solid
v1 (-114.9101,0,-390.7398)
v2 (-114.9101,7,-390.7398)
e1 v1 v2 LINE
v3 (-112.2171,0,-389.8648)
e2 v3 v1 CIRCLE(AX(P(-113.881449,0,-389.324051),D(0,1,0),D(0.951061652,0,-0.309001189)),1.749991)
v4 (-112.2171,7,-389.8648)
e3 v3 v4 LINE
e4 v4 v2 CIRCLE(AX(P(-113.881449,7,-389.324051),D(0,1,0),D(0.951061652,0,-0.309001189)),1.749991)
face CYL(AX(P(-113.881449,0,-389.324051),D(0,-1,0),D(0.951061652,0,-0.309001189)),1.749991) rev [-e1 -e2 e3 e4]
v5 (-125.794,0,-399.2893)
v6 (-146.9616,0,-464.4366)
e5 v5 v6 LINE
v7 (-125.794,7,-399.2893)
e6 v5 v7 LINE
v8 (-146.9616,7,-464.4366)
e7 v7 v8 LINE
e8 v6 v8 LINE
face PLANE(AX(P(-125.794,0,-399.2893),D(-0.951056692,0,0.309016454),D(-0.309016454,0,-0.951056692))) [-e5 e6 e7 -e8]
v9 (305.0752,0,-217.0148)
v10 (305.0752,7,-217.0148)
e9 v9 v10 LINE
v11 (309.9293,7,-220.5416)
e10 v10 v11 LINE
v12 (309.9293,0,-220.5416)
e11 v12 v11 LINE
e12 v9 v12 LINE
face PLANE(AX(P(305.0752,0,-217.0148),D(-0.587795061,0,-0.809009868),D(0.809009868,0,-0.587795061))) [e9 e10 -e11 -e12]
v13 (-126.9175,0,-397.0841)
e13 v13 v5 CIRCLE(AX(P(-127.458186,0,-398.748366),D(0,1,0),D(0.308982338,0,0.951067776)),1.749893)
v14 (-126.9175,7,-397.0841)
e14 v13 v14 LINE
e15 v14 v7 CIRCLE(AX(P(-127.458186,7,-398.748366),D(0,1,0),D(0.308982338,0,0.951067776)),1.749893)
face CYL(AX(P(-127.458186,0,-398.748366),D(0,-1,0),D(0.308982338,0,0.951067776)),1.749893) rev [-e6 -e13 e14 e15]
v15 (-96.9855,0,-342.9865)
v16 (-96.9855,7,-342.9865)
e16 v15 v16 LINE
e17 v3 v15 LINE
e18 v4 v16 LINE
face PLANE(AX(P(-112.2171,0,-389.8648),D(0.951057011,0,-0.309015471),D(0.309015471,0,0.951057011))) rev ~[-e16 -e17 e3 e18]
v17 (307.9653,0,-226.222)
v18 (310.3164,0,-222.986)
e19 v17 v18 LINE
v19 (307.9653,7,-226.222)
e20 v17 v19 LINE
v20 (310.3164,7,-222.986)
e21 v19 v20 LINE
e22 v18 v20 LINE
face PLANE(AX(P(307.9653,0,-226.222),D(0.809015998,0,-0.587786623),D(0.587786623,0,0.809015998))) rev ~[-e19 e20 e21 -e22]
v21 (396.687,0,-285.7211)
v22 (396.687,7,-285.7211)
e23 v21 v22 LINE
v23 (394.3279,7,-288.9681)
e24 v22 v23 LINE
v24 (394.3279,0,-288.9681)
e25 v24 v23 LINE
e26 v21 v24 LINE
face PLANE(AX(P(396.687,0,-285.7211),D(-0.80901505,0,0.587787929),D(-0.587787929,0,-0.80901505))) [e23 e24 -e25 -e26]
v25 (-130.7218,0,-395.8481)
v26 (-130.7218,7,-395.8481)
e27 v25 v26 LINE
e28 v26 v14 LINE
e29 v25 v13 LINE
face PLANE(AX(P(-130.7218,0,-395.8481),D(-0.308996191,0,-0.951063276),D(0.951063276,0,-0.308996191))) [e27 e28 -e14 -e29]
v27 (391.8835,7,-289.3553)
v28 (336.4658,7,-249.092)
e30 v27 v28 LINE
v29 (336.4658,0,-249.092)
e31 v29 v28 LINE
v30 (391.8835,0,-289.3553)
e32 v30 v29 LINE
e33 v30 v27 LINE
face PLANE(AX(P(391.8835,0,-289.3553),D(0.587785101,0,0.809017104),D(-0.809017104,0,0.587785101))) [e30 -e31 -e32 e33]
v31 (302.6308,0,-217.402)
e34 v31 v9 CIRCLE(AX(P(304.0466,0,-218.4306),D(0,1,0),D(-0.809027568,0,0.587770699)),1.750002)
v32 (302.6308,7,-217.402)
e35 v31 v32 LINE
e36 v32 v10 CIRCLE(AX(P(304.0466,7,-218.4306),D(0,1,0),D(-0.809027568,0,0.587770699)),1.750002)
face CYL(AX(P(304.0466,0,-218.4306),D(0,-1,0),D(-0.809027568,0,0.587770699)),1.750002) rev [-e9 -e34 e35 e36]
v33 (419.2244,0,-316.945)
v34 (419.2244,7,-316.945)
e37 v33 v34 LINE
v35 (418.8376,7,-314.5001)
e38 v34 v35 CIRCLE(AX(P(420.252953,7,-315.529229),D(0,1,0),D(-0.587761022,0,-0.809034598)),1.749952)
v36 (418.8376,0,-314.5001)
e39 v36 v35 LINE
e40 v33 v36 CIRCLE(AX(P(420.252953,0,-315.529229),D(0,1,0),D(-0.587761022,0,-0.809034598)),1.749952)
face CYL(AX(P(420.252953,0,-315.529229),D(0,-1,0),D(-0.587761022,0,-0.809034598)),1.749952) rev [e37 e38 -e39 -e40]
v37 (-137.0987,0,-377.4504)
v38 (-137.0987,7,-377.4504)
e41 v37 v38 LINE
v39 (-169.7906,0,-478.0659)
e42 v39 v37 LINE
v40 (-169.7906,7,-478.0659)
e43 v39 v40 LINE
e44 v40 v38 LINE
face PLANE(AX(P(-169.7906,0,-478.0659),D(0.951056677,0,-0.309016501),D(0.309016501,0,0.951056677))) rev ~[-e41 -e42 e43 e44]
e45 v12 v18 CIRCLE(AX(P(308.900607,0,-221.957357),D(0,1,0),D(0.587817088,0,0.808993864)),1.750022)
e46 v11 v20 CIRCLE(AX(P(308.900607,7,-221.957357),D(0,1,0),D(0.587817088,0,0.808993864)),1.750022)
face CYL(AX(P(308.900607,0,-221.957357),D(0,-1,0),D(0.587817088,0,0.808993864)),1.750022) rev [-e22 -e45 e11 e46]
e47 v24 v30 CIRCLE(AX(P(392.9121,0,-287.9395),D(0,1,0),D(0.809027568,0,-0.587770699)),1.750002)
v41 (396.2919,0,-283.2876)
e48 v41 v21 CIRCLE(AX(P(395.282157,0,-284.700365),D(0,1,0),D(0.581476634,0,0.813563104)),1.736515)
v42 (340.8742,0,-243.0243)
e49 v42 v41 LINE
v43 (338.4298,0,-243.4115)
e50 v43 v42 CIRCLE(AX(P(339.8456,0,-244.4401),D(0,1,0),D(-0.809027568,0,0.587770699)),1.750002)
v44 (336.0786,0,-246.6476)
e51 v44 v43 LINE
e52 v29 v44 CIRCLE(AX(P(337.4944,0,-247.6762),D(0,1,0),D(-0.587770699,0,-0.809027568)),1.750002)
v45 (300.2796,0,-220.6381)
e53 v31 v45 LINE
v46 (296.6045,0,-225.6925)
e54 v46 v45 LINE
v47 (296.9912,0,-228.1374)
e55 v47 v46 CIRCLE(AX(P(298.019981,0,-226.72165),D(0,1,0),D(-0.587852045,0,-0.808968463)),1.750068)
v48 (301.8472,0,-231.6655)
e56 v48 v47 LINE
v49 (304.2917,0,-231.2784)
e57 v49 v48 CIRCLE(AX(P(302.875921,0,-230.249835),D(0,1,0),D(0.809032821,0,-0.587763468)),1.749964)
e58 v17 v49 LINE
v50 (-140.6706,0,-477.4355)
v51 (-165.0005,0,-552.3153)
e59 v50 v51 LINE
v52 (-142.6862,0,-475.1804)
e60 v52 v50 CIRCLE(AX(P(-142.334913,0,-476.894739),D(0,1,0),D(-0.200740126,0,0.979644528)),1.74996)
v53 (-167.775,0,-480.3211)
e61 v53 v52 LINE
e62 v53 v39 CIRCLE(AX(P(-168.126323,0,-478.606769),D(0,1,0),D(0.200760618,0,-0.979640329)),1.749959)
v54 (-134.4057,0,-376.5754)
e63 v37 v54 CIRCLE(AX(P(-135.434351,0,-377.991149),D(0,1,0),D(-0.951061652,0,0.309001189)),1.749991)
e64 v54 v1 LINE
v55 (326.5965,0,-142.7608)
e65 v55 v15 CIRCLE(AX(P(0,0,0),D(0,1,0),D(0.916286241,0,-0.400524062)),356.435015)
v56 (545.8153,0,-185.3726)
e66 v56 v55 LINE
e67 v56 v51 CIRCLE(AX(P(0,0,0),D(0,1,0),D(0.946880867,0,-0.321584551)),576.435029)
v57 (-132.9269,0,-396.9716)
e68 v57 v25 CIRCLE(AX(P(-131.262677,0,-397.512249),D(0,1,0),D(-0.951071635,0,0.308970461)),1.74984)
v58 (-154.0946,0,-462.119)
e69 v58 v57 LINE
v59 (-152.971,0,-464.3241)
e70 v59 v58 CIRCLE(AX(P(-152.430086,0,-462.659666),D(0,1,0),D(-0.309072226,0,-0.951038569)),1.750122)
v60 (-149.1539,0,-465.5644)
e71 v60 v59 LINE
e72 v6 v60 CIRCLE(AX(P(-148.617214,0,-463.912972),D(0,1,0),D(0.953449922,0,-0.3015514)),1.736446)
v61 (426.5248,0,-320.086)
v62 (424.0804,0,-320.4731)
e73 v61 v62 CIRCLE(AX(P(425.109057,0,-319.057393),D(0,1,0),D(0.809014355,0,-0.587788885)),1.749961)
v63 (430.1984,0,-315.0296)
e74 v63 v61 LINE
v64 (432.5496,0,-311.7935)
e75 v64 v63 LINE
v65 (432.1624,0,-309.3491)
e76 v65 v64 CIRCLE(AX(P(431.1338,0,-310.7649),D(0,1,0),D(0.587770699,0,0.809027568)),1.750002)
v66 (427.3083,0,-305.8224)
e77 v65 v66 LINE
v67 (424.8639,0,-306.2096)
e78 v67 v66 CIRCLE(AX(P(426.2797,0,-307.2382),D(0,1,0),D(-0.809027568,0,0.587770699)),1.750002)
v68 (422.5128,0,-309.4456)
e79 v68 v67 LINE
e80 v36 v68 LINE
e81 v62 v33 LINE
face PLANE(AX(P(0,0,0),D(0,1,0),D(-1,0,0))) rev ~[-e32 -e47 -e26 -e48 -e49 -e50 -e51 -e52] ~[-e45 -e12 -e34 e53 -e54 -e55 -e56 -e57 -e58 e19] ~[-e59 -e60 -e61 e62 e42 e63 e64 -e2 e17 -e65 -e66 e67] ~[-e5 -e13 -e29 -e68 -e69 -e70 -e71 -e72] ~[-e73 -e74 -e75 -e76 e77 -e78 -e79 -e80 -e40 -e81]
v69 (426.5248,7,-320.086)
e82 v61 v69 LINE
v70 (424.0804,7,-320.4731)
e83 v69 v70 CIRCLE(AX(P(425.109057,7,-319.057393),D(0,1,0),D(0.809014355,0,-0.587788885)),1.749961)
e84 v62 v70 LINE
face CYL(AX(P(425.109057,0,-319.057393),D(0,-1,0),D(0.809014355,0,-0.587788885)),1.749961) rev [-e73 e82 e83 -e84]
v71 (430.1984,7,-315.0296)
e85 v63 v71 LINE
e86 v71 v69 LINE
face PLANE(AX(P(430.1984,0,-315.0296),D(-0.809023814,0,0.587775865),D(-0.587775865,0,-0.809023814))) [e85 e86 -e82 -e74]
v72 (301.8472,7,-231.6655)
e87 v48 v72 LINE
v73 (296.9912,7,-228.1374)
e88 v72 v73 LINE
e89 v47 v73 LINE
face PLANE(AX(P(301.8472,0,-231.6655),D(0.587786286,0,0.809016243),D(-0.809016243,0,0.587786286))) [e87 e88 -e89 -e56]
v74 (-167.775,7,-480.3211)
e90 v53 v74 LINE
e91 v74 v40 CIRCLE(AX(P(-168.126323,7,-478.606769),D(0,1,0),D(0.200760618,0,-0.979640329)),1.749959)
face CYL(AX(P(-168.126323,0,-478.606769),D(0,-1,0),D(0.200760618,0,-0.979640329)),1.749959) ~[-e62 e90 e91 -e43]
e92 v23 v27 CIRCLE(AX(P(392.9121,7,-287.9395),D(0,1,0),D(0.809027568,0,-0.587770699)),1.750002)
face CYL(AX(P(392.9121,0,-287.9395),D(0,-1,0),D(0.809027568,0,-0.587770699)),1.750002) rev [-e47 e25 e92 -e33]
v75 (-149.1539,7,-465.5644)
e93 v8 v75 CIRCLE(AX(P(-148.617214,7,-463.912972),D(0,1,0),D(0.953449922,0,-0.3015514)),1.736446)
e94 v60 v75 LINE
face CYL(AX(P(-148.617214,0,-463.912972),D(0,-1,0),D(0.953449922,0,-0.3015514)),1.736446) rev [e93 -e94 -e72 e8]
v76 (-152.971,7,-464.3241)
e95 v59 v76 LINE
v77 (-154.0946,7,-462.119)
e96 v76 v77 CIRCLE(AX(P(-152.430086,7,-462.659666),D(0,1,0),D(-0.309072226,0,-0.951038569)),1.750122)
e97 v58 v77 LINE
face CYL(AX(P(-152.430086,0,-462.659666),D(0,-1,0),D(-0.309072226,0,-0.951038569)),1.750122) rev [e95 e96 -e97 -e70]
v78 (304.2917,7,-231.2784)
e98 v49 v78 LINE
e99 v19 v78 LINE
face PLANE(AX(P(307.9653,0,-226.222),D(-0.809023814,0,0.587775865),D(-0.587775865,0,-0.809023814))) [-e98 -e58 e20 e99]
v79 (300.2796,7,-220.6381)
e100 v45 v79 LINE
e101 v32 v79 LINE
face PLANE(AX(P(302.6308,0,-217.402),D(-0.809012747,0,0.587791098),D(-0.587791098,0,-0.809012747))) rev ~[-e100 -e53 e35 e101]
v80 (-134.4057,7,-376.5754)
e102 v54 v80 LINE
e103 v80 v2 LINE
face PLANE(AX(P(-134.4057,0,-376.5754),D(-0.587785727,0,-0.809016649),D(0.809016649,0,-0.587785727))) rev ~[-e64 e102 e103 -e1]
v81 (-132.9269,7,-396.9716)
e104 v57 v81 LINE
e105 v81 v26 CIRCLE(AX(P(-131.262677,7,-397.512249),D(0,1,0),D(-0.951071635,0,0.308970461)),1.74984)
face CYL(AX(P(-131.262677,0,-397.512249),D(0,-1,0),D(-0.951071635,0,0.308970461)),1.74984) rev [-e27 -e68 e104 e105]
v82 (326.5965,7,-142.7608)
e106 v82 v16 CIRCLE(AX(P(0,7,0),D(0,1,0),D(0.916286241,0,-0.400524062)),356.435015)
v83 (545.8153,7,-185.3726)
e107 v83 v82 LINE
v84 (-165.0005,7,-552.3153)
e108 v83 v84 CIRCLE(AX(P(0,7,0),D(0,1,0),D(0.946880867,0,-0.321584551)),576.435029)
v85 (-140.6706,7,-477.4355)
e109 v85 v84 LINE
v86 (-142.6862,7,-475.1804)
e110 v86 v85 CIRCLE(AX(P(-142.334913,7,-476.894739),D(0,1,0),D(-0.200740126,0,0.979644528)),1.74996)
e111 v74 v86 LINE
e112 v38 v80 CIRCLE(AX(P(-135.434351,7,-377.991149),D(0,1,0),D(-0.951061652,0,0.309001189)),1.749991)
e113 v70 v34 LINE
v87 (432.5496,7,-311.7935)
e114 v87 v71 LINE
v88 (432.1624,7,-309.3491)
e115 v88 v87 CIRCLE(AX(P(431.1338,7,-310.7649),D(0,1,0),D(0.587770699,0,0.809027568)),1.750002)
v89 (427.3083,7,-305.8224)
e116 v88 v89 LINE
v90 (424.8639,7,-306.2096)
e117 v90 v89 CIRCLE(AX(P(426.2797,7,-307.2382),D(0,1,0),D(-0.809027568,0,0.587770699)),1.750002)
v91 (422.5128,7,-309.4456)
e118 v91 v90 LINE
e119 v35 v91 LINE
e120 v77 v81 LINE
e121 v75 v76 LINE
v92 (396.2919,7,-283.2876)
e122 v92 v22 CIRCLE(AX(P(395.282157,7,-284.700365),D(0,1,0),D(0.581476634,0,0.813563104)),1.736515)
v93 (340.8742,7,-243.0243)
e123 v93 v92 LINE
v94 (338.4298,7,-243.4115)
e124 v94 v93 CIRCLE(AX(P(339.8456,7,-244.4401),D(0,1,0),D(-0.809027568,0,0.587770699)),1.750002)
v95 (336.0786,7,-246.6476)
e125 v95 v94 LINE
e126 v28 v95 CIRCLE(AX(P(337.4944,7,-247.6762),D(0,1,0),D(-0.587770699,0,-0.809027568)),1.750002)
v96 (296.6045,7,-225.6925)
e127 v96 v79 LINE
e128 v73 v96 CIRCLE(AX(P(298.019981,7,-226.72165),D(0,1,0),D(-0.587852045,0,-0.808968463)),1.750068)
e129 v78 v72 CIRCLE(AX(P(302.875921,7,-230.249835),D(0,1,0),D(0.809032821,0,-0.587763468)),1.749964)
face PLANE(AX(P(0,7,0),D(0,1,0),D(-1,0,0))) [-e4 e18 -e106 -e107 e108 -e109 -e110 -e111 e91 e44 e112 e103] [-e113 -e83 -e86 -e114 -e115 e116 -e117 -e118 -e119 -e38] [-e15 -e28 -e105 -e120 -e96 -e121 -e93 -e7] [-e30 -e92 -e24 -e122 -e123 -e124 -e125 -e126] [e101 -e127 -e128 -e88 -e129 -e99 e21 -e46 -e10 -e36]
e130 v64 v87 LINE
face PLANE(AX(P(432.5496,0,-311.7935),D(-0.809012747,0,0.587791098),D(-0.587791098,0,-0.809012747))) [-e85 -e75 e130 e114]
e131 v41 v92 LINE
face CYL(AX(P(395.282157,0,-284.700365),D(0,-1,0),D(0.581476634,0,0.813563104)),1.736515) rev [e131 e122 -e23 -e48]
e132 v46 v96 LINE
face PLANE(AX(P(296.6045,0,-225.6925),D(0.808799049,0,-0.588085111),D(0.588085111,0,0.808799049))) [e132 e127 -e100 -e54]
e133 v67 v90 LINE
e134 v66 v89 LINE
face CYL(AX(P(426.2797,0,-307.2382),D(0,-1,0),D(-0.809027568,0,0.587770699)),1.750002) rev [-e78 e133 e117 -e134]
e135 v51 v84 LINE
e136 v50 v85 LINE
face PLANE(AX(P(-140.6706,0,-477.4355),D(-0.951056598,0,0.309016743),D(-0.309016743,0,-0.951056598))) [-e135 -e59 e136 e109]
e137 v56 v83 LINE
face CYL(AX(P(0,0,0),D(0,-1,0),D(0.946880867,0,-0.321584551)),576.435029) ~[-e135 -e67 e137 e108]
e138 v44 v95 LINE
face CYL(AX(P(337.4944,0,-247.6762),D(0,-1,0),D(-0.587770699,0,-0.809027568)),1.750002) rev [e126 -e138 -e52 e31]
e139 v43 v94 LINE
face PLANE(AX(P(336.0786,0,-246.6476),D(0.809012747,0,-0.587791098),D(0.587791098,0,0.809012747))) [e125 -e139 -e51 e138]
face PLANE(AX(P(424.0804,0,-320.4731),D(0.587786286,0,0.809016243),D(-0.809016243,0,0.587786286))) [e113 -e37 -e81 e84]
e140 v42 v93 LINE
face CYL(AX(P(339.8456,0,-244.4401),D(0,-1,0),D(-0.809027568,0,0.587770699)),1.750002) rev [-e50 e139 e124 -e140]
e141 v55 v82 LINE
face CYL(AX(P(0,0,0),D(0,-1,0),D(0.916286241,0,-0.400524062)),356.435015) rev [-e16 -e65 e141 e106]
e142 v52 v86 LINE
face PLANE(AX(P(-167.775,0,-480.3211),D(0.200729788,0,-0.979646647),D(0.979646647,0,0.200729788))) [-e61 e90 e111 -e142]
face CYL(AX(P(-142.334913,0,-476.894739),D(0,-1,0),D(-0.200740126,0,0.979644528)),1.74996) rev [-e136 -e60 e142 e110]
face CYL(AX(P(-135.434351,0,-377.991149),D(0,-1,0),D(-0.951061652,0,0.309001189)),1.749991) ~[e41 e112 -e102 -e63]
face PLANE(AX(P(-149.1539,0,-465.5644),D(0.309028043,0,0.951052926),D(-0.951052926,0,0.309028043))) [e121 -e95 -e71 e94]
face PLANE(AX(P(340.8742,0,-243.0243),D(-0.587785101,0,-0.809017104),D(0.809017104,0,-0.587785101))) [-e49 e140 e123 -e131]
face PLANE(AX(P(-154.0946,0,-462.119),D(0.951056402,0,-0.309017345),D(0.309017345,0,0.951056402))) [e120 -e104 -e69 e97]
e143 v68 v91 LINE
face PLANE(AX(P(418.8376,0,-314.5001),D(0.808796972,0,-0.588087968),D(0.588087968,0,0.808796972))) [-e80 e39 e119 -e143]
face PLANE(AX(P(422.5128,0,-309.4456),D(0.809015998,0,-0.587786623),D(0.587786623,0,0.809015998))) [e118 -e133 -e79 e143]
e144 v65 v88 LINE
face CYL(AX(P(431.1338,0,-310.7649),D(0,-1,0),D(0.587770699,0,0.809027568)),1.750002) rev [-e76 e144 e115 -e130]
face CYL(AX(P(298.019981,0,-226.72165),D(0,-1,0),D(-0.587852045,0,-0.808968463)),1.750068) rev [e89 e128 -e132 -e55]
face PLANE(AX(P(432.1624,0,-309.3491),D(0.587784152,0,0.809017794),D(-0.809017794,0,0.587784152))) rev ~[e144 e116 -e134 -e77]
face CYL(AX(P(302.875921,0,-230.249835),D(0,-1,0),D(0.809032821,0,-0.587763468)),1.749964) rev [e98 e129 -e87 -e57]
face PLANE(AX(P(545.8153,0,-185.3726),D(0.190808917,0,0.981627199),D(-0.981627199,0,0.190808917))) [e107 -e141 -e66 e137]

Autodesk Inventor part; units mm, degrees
ref_plane "YZ Plane" through (0, 0, 0) normal (1, 0, 0) x (0, 1, 0)
ref_plane "XZ Plane" through (0, 0, 0) normal (0, 1, 0) x (-1, 0, 0)
ref_plane "XY Plane" through (0, 0, 0) normal (0, 0, 1) x (1, 0, 0)
sketch "Sketch1" plane through (0, 0, 0) normal (0, 1, 0) x (-1, 0, 0)
  line L0 (-545.8153, 185.3726) -> (-326.5965, 142.7608)
  line L1 (-545.8153, -185.3726) -> (-326.5965, -142.7608)
  arc A0 (-545.8153, -185.3726) -> (-545.8153, 185.3726) centre (0, 0) ccw
  arc A1 (374.3691, 3.75) -> (372.6191, 2) centre (374.3691, 2) ccw
  arc A2 (372.6191, -2) -> (374.3691, -3.75) centre (374.3691, -2) ccw
  line L2 (380.3691, 3.75) -> (374.3691, 3.75)
  line L3 (374.3691, -3.75) -> (380.3691, -3.75)
  line L4 (382.1191, 2) -> (382.1191, -2)
  arc A3 (380.3691, -3.75) -> (382.1191, -2) centre (380.3691, -2) ccw
  arc A4 (382.1191, 2) -> (380.3691, 3.75) centre (380.3691, 2) ccw
  line L5 (372.6191, -2) -> (372.6191, 2)
  line L6 (523.7076, 2) -> (523.7076, -2)
  arc A5 (523.7076, -2) -> (525.4576, -3.75) centre (525.4576, -2) ccw
  arc A6 (525.4576, 3.75) -> (523.7076, 2) centre (525.4576, 2) ccw
  line L7 (531.4576, -3.75) -> (525.4576, -3.75)
  line L8 (525.4576, 3.75) -> (531.4576, 3.75)
  arc A7 (531.4576, -3.75) -> (533.2076, -2) centre (531.4576, -2) ccw
  line L9 (533.2076, -2) -> (533.2076, 2)
  arc A8 (533.2076, 2) -> (531.4576, 3.75) centre (531.4576, 2) ccw
  arc A9 (-326.5965, -142.7608) -> (-326.5965, 142.7608) centre (0, 0) ccw
  line L10 (116.1792, 364.0349) -> (119.9834, 362.7989)
  arc A10 (121.107, 360.5937) -> (119.9834, 362.7989) centre (119.4426, 361.1345) ccw
  arc A11 (116.1792, 364.0349) -> (113.9741, 362.9114) centre (115.6384, 362.3706) ccw
  line L11 (119.2529, 354.8874) -> (121.107, 360.5937)
  line L12 (113.9741, 362.9114) -> (112.12, 357.205)
  line L13 (117.0478, 353.7638) -> (113.2435, 354.9999)
  arc A12 (112.12, 357.205) -> (113.2435, 354.9999) centre (113.7843, 356.6642) ccw
  arc A13 (117.0478, 353.7638) -> (119.2529, 354.8874) centre (117.5885, 355.4282) ccw
  arc A14 (163.7367, 497.4575) -> (165.9418, 498.5811) centre (164.2774, 499.1218) ccw
  arc A15 (158.8089, 500.8987) -> (159.9324, 498.6936) centre (160.4732, 500.3579) ccw
  line L14 (159.9324, 498.6936) -> (163.7367, 497.4575)
  line L15 (158.8089, 500.8987) -> (160.663, 506.605)
  line L16 (167.7959, 504.2874) -> (165.9418, 498.5811)
  arc A16 (162.8681, 507.7286) -> (160.663, 506.605) centre (162.3273, 506.0642) ccw
  line L17 (166.6723, 506.4925) -> (162.8681, 507.7286)
  arc A17 (167.7959, 504.2874) -> (166.6723, 506.4925) centre (166.1315, 504.8282) ccw
  line L18 (-310.3164, 222.986) -> (-307.9653, 226.222)
  arc A18 (-305.5209, 226.6092) -> (-307.9653, 226.222) centre (-306.5495, 225.1934) ccw
  arc A19 (-310.3164, 222.986) -> (-309.9293, 220.5416) centre (-308.9007, 221.9573) ccw
  line L19 (-300.6668, 223.0825) -> (-305.5209, 226.6092)
  line L20 (-309.9293, 220.5416) -> (-305.0752, 217.0148)
  line L21 (-300.2796, 220.6381) -> (-302.6308, 217.402)
  arc A20 (-305.0752, 217.0148) -> (-302.6308, 217.402) centre (-304.0466, 218.4306) ccw
  arc A21 (-300.2796, 220.6381) -> (-300.6668, 223.0825) centre (-301.6954, 221.6667) ccw
  arc A22 (-422.5128, 309.4456) -> (-422.8999, 311.89) centre (-423.9286, 310.4743) ccw
  arc A23 (-427.3083, 305.8224) -> (-424.8639, 306.2096) centre (-426.2797, 307.2382) ccw
  line L22 (-424.8639, 306.2096) -> (-422.5128, 309.4456)
  line L23 (-427.3083, 305.8224) -> (-432.1624, 309.3491)
  line L24 (-427.754, 315.4167) -> (-422.8999, 311.89)
  arc A24 (-432.5496, 311.7935) -> (-432.1624, 309.3491) centre (-431.1338, 310.7649) ccw
  line L25 (-430.1984, 315.0296) -> (-432.5496, 311.7935)
  arc A25 (-427.754, 315.4167) -> (-430.1984, 315.0296) centre (-428.7827, 314.001) ccw
  line L26 (-307.9653, -226.222) -> (-310.3164, -222.986)
  arc A26 (-309.9293, -220.5416) -> (-310.3164, -222.986) centre (-308.9007, -221.9573) ccw
  arc A27 (-307.9653, -226.222) -> (-305.5209, -226.6092) centre (-306.5495, -225.1934) ccw
  line L27 (-305.0752, -217.0148) -> (-309.9293, -220.5416)
  line L28 (-305.5209, -226.6092) -> (-300.6668, -223.0825)
  line L29 (-302.6308, -217.402) -> (-300.2796, -220.6381)
  arc A28 (-300.6668, -223.0825) -> (-300.2796, -220.6381) centre (-301.6954, -221.6667) ccw
  arc A29 (-302.6308, -217.402) -> (-305.0752, -217.0148) centre (-304.0466, -218.4306) ccw
  arc A30 (-424.8639, -306.2096) -> (-427.3083, -305.8224) centre (-426.2797, -307.2382) ccw
  arc A31 (-422.8999, -311.89) -> (-422.5128, -309.4456) centre (-423.9286, -310.4743) ccw
  line L30 (-422.5128, -309.4456) -> (-424.8639, -306.2096)
  line L31 (-422.8999, -311.89) -> (-427.754, -315.4167)
  line L32 (-432.1624, -309.3491) -> (-427.3083, -305.8224)
  arc A32 (-430.1984, -315.0296) -> (-427.754, -315.4167) centre (-428.7827, -314.001) ccw
  line L33 (-432.5496, -311.7935) -> (-430.1984, -315.0296)
  arc A33 (-432.1624, -309.3491) -> (-432.5496, -311.7935) centre (-431.1338, -310.7649) ccw
  line L34 (119.9834, -362.7989) -> (116.1792, -364.0349)
  arc A34 (113.9741, -362.9114) -> (116.1792, -364.0349) centre (115.6384, -362.3706) ccw
  arc A35 (119.9834, -362.7989) -> (121.107, -360.5937) centre (119.4426, -361.1345) ccw
  line L35 (112.12, -357.205) -> (113.9741, -362.9114)
  line L36 (121.107, -360.5937) -> (119.2529, -354.8874)
  line L37 (113.2435, -354.9999) -> (117.0478, -353.7638)
  arc A36 (119.2529, -354.8874) -> (117.0478, -353.7638) centre (117.5885, -355.4282) ccw
  arc A37 (113.2435, -354.9999) -> (112.12, -357.205) centre (113.7843, -356.6642) ccw
  arc A38 (159.9324, -498.6936) -> (158.8089, -500.8987) centre (160.4732, -500.3579) ccw
  arc A39 (165.9418, -498.5811) -> (163.7367, -497.4575) centre (164.2774, -499.1218) ccw
  line L38 (163.7367, -497.4575) -> (159.9324, -498.6936)
  line L39 (165.9418, -498.5811) -> (167.7959, -504.2874)
  line L40 (160.663, -506.605) -> (158.8089, -500.8987)
  arc A40 (166.6723, -506.4925) -> (167.7959, -504.2874) centre (166.1315, -504.8282) ccw
  line L41 (162.8681, -507.7286) -> (166.6723, -506.4925)
  arc A41 (160.663, -506.605) -> (162.8681, -507.7286) centre (162.3273, -506.0642) ccw
  line L42 (225.4462, 74.1184) -> (211.8442, 74.1184)
  line L43 (225.4462, 74.1184) -> (225.4462, 49.1184)
  arc A42 (405.4604, -13.75) -> (407.1248, -11.4592) centre (405.4604, -12) ccw
  arc A43 (496.0158, -11.1361) -> (497.5378, -13.75) centre (497.5378, -12) ccw
  line L44 (508.6578, 11.1361) -> (496.0158, -11.1361)
  arc A44 (508.6578, 11.1361) -> (507.1359, 13.75) centre (507.1359, 12) ccw
  arc A45 (416.8691, -2) -> (418.6191, -3.75) centre (418.6191, -2) ccw
  line L45 (399.6781, 11.4592) -> (407.1248, -11.4592)
  line L46 (416.8691, 2) -> (416.8691, -2)
  arc A46 (401.3425, 13.75) -> (399.6781, 11.4592) centre (401.3425, 12) ccw
  arc A47 (418.6191, 3.75) -> (416.8691, 2) centre (418.6191, 2) ccw
  line L47 (507.1359, 13.75) -> (401.3425, 13.75)
  line L48 (418.6191, -3.75) -> (487.1191, -3.75)
  line L49 (487.1191, 3.75) -> (418.6191, 3.75)
  arc A48 (487.1191, -3.75) -> (488.8691, -2.0136) centre (487.1326, -2.0136) ccw
  line L50 (488.8691, -2.0136) -> (488.8691, 2)
  arc A49 (488.8691, 2) -> (487.1191, 3.75) centre (487.1191, 2) ccw
  line L51 (405.4604, -13.75) -> (356.1697, -13.75)
  line L52 (497.5378, -13.75) -> (576.271, -13.75)
  arc A50 (163.8684, 468.2978) -> (166.8247, 468.9375) centre (165.1603, 469.4783) ccw
  line L53 (146.5928, 487.2036) -> (163.8684, 468.2978)
  arc A51 (146.5928, 487.2036) -> (143.6366, 486.5639) centre (145.3009, 486.0231) ccw
  line L54 (152.9839, 464.32) -> (149.1668, 465.5602)
  arc A52 (154.0946, 462.119) -> (152.9839, 464.32) centre (152.4473, 462.6685) ccw
  arc A53 (149.1668, 465.5602) -> (146.9616, 464.4366) centre (148.626, 463.8959) ccw
  arc A54 (110.9446, 385.9484) -> (112.609, 383.6576) centre (112.609, 385.4076) ccw
  arc A55 (138.3712, 381.3668) -> (136.7068, 383.6576) centre (136.7068, 381.9076) ccw
  line L55 (112.609, 383.6576) -> (136.7068, 383.6576)
  line L56 (126.9175, 397.0841) -> (130.7218, 395.8481)
  arc A56 (125.794, 399.2893) -> (126.9175, 397.0841) centre (127.4583, 398.7485) ccw
  line L57 (143.6366, 486.5639) -> (110.9446, 385.9484)
  line L58 (146.9616, 464.4366) -> (125.794, 399.2893)
  line L59 (132.9269, 396.9716) -> (154.0946, 462.119)
  arc A57 (130.7218, 395.8481) -> (132.9269, 396.9716) centre (131.2625, 397.5124) ccw
  line L60 (138.3712, 381.3668) -> (123.1395, 334.4885)
  line L61 (166.8247, 468.9375) -> (191.1546, 543.8173)
  line L62 (-394.3199, 288.9791) -> (-396.679, 285.732)
  arc A58 (-391.8835, 289.3553) -> (-394.3199, 288.9791) centre (-392.915, 287.9584) ccw
  arc A59 (-396.679, 285.732) -> (-396.2919, 283.2876) centre (-395.2632, 284.7034) ccw
  line L63 (-338.4298, 243.4115) -> (-336.0786, 246.6476)
  arc A60 (-340.8742, 243.0243) -> (-338.4298, 243.4115) centre (-339.8456, 244.4401) ccw
  line L64 (-396.2919, 283.2876) -> (-340.8742, 243.0243)
  line L65 (-336.4658, 249.092) -> (-391.8835, 289.3553)
  arc A61 (-336.0786, 246.6476) -> (-336.4658, 249.092) centre (-337.4944, 247.6762) ccw
  line L66 (-396.687, -285.7211) -> (-394.3279, -288.9681)
  arc A62 (-396.2919, -283.2876) -> (-396.687, -285.7211) centre (-395.2821, -284.7004) ccw
  arc A63 (-394.3279, -288.9681) -> (-391.8835, -289.3553) centre (-392.9121, -287.9395) ccw
  line L67 (-336.0786, -246.6476) -> (-338.4298, -243.4115)
  arc A64 (-336.4658, -249.092) -> (-336.0786, -246.6476) centre (-337.4944, -247.6762) ccw
  line L68 (-391.8835, -289.3553) -> (-336.4658, -249.092)
  line L69 (-340.8742, -243.0243) -> (-396.2919, -283.2876)
  arc A65 (-338.4298, -243.4115) -> (-340.8742, -243.0243) centre (-339.8456, -244.4401) ccw
  arc A66 (142.6862, -475.1804) -> (140.6706, -477.4355) centre (142.3349, -476.8947) ccw
  line L70 (167.775, -480.3211) -> (142.6862, -475.1804)
  arc A67 (167.775, -480.3211) -> (169.7906, -478.0659) centre (168.1263, -478.6067) ccw
  line L71 (149.1539, -465.5644) -> (152.971, -464.3241)
  arc A68 (146.9616, -464.4366) -> (149.1539, -465.5644) centre (148.6173, -463.9129) ccw
  arc A69 (152.971, -464.3241) -> (154.0946, -462.119) centre (152.4302, -462.6598) ccw
  arc A70 (137.0987, -377.4504) -> (134.4057, -376.5754) centre (135.4343, -377.9912) ccw
  arc A71 (112.2171, -389.8648) -> (114.9101, -390.7398) centre (113.8815, -389.324) ccw
  line L72 (134.4057, -376.5754) -> (114.9101, -390.7398)
  line L73 (130.7218, -395.8481) -> (126.9175, -397.0841)
  arc A72 (132.9269, -396.9716) -> (130.7218, -395.8481) centre (131.2625, -397.5124) ccw
  line L74 (169.7906, -478.0659) -> (137.0987, -377.4504)
  line L75 (154.0946, -462.119) -> (132.9269, -396.9716)
  line L76 (125.794, -399.2893) -> (146.9616, -464.4366)
  arc A73 (126.9175, -397.0841) -> (125.794, -399.2893) centre (127.4583, -398.7485) ccw
  line L77 (112.2171, -389.8648) -> (96.9855, -342.9865)
  line L78 (140.6706, -477.4355) -> (165.0005, -552.3153)
  line L79 (-432.5496, 311.7935) -> (-436.2232, 306.7372)
  line L80 (-435.8361, 304.2928) -> (-430.9801, 300.7647)
  line L81 (-428.5353, 301.1524) -> (-424.8639, 306.2096)
  arc A74 (-436.2232, 306.7372) -> (-435.8361, 304.2928) centre (-434.8075, 305.7085) ccw
  arc A75 (-430.9801, 300.7647) -> (-428.5353, 301.1524) centre (-429.9515, 302.1805) ccw
  line L82 (-310.3164, 222.986) -> (-313.9901, 217.9296)
  line L83 (-313.603, 215.4852) -> (-308.7469, 211.9571)
  line L84 (-306.3022, 212.3448) -> (-302.6308, 217.402)
  arc A76 (-313.9901, 217.9296) -> (-313.603, 215.4852) centre (-312.5743, 216.901) ccw
  arc A77 (-308.7469, 211.9571) -> (-306.3022, 212.3448) centre (-307.7183, 213.3729) ccw
  line L85 (-430.1984, -315.0296) -> (-426.5248, -320.086)
  arc A78 (-426.5248, -320.086) -> (-424.0804, -320.4731) centre (-425.109, -319.0573) ccw
  line L86 (-424.0804, -320.4731) -> (-419.2244, -316.945)
  arc A79 (-419.2244, -316.945) -> (-418.8376, -314.5001) centre (-420.253, -315.5292) ccw
  line L87 (-418.8376, -314.5001) -> (-422.5128, -309.4456)
  line L88 (-307.9653, -226.222) -> (-304.2917, -231.2784)
  arc A80 (-304.2917, -231.2784) -> (-301.8472, -231.6655) centre (-302.8759, -230.2498) ccw
  line L89 (-301.8472, -231.6655) -> (-296.9912, -228.1374)
  line L90 (-296.6045, -225.6925) -> (-300.2796, -220.6381)
  arc A81 (-296.9912, -228.1374) -> (-296.6045, -225.6925) centre (-298.0199, -226.7217) ccw
  line L91 (166.6723, -506.4925) -> (172.6164, -504.5612)
  arc A82 (172.6164, -504.5612) -> (173.74, -502.356) centre (172.0756, -502.8968) ccw
  line L92 (173.74, -502.356) -> (171.8852, -496.6475)
  arc A83 (171.8852, -496.6475) -> (169.6794, -495.5241) centre (170.2208, -497.1882) ccw
  line L93 (169.6794, -495.5241) -> (163.7367, -497.4575)
  line L94 (119.9834, -362.7989) -> (125.9275, -360.8675)
  arc A84 (125.9275, -360.8675) -> (127.0511, -358.6624) centre (125.3867, -359.2032) ccw
  line L95 (127.0511, -358.6624) -> (125.1963, -352.9538)
  line L96 (122.9905, -351.8304) -> (117.0478, -353.7638)
  arc A85 (125.1963, -352.9538) -> (122.9905, -351.8304) centre (123.5319, -353.4946) ccw
  line L97 (533.2076, 2) -> (533.2076, 8.25)
  arc A86 (533.2076, 8.25) -> (531.4576, 10) centre (531.4576, 8.25) ccw
  line L98 (531.4576, 10) -> (525.4552, 10)
  arc A87 (525.4552, 10) -> (523.7052, 8.2493) centre (525.4552, 8.25) ccw
  line L99 (523.7052, 8.2493) -> (523.7076, 2)
  line L100 (382.1191, 2) -> (382.1191, 8.25)
  arc A88 (382.1191, 8.25) -> (380.3691, 10) centre (380.3691, 8.25) ccw
  line L101 (380.3691, 10) -> (374.3668, 10)
  line L102 (372.6168, 8.2493) -> (372.6191, 2)
  arc A89 (374.3668, 10) -> (372.6168, 8.2493) centre (374.3668, 8.25) ccw
  line L103 (162.8681, 507.7286) -> (156.924, 509.6599)
  arc A90 (156.924, 509.6599) -> (154.7189, 508.5364) centre (156.3832, 507.9956) ccw
  line L104 (154.7189, 508.5364) -> (152.864, 502.8278)
  arc A91 (152.864, 502.8278) -> (153.9882, 500.6225) centre (154.5284, 502.287) ccw
  line L105 (153.9882, 500.6225) -> (159.9324, 498.6936)
  line L106 (116.1792, 364.0349) -> (110.2351, 365.9663)
  arc A92 (110.2351, 365.9663) -> (108.03, 364.8427) centre (109.6943, 364.3019) ccw
  line L107 (108.03, 364.8427) -> (106.1751, 359.1341)
  line L108 (107.2993, 356.9288) -> (113.2435, 354.9999)
  arc A93 (106.1751, 359.1341) -> (107.2993, 356.9288) centre (107.8395, 358.5934) ccw
  point P0 (494.5322, -13.75)
  point P1 (417.3817, -3.2374)
  point P2 (417.3817, 3.2374)
  point P3 (488.3566, 3.2374)
  point P4 (165.8959, 466.0791)
  point P5 (147.8315, 465.4551)
  point P6 (125.8991, 397.954)
  point P7 (132.057, 395.9532)
  point P8 (-396.9917, 284.4297)
  point P9 (-339.5718, 242.7117)
  point P10 (-335.766, 247.95)
  point P11 (-393.1859, -289.6679)
  point P12 (-335.766, -247.95)
  point P13 (-339.5718, -242.7117)
  point P14 (139.7418, -474.577)
  point P15 (153.9895, -463.4543)
  point P16 (132.057, -395.9532)
  point P17 (125.8991, -397.954)
  point P18 (-302.6308, 217.402)
  point P19 (113.2435, 354.9999)
  point P20 (372.6191, 2)
  point P21 (117.0478, -353.7638)
  point P22 (-300.2796, -220.6381)
  dimension "d34" = 1152.87
  dimension "d45" = 7.5
  dimension "d48" = 712.87
  dimension "d60" = 360
  dimension "d62" = 13.602
  dimension "d63" = 25
  dimension "d72" = 7.5
  dimension "d74" = 3.5
  dimension "d75" = 3.5
  dimension "d79" = 0
  dimension "d80" = 8
  dimension "d81" = 1.75
  dimension "d84" = 8
  dimension "d85" = 1.75
  dimension "d88" = 360
extrude "Extrusion1" add sketch "Sketch1" along normal blind 7 contours A0 L1 A9 L77 A71 L72 A70 L74 A67 L70 A66 L78
properties part number "Level 2d - V2"
